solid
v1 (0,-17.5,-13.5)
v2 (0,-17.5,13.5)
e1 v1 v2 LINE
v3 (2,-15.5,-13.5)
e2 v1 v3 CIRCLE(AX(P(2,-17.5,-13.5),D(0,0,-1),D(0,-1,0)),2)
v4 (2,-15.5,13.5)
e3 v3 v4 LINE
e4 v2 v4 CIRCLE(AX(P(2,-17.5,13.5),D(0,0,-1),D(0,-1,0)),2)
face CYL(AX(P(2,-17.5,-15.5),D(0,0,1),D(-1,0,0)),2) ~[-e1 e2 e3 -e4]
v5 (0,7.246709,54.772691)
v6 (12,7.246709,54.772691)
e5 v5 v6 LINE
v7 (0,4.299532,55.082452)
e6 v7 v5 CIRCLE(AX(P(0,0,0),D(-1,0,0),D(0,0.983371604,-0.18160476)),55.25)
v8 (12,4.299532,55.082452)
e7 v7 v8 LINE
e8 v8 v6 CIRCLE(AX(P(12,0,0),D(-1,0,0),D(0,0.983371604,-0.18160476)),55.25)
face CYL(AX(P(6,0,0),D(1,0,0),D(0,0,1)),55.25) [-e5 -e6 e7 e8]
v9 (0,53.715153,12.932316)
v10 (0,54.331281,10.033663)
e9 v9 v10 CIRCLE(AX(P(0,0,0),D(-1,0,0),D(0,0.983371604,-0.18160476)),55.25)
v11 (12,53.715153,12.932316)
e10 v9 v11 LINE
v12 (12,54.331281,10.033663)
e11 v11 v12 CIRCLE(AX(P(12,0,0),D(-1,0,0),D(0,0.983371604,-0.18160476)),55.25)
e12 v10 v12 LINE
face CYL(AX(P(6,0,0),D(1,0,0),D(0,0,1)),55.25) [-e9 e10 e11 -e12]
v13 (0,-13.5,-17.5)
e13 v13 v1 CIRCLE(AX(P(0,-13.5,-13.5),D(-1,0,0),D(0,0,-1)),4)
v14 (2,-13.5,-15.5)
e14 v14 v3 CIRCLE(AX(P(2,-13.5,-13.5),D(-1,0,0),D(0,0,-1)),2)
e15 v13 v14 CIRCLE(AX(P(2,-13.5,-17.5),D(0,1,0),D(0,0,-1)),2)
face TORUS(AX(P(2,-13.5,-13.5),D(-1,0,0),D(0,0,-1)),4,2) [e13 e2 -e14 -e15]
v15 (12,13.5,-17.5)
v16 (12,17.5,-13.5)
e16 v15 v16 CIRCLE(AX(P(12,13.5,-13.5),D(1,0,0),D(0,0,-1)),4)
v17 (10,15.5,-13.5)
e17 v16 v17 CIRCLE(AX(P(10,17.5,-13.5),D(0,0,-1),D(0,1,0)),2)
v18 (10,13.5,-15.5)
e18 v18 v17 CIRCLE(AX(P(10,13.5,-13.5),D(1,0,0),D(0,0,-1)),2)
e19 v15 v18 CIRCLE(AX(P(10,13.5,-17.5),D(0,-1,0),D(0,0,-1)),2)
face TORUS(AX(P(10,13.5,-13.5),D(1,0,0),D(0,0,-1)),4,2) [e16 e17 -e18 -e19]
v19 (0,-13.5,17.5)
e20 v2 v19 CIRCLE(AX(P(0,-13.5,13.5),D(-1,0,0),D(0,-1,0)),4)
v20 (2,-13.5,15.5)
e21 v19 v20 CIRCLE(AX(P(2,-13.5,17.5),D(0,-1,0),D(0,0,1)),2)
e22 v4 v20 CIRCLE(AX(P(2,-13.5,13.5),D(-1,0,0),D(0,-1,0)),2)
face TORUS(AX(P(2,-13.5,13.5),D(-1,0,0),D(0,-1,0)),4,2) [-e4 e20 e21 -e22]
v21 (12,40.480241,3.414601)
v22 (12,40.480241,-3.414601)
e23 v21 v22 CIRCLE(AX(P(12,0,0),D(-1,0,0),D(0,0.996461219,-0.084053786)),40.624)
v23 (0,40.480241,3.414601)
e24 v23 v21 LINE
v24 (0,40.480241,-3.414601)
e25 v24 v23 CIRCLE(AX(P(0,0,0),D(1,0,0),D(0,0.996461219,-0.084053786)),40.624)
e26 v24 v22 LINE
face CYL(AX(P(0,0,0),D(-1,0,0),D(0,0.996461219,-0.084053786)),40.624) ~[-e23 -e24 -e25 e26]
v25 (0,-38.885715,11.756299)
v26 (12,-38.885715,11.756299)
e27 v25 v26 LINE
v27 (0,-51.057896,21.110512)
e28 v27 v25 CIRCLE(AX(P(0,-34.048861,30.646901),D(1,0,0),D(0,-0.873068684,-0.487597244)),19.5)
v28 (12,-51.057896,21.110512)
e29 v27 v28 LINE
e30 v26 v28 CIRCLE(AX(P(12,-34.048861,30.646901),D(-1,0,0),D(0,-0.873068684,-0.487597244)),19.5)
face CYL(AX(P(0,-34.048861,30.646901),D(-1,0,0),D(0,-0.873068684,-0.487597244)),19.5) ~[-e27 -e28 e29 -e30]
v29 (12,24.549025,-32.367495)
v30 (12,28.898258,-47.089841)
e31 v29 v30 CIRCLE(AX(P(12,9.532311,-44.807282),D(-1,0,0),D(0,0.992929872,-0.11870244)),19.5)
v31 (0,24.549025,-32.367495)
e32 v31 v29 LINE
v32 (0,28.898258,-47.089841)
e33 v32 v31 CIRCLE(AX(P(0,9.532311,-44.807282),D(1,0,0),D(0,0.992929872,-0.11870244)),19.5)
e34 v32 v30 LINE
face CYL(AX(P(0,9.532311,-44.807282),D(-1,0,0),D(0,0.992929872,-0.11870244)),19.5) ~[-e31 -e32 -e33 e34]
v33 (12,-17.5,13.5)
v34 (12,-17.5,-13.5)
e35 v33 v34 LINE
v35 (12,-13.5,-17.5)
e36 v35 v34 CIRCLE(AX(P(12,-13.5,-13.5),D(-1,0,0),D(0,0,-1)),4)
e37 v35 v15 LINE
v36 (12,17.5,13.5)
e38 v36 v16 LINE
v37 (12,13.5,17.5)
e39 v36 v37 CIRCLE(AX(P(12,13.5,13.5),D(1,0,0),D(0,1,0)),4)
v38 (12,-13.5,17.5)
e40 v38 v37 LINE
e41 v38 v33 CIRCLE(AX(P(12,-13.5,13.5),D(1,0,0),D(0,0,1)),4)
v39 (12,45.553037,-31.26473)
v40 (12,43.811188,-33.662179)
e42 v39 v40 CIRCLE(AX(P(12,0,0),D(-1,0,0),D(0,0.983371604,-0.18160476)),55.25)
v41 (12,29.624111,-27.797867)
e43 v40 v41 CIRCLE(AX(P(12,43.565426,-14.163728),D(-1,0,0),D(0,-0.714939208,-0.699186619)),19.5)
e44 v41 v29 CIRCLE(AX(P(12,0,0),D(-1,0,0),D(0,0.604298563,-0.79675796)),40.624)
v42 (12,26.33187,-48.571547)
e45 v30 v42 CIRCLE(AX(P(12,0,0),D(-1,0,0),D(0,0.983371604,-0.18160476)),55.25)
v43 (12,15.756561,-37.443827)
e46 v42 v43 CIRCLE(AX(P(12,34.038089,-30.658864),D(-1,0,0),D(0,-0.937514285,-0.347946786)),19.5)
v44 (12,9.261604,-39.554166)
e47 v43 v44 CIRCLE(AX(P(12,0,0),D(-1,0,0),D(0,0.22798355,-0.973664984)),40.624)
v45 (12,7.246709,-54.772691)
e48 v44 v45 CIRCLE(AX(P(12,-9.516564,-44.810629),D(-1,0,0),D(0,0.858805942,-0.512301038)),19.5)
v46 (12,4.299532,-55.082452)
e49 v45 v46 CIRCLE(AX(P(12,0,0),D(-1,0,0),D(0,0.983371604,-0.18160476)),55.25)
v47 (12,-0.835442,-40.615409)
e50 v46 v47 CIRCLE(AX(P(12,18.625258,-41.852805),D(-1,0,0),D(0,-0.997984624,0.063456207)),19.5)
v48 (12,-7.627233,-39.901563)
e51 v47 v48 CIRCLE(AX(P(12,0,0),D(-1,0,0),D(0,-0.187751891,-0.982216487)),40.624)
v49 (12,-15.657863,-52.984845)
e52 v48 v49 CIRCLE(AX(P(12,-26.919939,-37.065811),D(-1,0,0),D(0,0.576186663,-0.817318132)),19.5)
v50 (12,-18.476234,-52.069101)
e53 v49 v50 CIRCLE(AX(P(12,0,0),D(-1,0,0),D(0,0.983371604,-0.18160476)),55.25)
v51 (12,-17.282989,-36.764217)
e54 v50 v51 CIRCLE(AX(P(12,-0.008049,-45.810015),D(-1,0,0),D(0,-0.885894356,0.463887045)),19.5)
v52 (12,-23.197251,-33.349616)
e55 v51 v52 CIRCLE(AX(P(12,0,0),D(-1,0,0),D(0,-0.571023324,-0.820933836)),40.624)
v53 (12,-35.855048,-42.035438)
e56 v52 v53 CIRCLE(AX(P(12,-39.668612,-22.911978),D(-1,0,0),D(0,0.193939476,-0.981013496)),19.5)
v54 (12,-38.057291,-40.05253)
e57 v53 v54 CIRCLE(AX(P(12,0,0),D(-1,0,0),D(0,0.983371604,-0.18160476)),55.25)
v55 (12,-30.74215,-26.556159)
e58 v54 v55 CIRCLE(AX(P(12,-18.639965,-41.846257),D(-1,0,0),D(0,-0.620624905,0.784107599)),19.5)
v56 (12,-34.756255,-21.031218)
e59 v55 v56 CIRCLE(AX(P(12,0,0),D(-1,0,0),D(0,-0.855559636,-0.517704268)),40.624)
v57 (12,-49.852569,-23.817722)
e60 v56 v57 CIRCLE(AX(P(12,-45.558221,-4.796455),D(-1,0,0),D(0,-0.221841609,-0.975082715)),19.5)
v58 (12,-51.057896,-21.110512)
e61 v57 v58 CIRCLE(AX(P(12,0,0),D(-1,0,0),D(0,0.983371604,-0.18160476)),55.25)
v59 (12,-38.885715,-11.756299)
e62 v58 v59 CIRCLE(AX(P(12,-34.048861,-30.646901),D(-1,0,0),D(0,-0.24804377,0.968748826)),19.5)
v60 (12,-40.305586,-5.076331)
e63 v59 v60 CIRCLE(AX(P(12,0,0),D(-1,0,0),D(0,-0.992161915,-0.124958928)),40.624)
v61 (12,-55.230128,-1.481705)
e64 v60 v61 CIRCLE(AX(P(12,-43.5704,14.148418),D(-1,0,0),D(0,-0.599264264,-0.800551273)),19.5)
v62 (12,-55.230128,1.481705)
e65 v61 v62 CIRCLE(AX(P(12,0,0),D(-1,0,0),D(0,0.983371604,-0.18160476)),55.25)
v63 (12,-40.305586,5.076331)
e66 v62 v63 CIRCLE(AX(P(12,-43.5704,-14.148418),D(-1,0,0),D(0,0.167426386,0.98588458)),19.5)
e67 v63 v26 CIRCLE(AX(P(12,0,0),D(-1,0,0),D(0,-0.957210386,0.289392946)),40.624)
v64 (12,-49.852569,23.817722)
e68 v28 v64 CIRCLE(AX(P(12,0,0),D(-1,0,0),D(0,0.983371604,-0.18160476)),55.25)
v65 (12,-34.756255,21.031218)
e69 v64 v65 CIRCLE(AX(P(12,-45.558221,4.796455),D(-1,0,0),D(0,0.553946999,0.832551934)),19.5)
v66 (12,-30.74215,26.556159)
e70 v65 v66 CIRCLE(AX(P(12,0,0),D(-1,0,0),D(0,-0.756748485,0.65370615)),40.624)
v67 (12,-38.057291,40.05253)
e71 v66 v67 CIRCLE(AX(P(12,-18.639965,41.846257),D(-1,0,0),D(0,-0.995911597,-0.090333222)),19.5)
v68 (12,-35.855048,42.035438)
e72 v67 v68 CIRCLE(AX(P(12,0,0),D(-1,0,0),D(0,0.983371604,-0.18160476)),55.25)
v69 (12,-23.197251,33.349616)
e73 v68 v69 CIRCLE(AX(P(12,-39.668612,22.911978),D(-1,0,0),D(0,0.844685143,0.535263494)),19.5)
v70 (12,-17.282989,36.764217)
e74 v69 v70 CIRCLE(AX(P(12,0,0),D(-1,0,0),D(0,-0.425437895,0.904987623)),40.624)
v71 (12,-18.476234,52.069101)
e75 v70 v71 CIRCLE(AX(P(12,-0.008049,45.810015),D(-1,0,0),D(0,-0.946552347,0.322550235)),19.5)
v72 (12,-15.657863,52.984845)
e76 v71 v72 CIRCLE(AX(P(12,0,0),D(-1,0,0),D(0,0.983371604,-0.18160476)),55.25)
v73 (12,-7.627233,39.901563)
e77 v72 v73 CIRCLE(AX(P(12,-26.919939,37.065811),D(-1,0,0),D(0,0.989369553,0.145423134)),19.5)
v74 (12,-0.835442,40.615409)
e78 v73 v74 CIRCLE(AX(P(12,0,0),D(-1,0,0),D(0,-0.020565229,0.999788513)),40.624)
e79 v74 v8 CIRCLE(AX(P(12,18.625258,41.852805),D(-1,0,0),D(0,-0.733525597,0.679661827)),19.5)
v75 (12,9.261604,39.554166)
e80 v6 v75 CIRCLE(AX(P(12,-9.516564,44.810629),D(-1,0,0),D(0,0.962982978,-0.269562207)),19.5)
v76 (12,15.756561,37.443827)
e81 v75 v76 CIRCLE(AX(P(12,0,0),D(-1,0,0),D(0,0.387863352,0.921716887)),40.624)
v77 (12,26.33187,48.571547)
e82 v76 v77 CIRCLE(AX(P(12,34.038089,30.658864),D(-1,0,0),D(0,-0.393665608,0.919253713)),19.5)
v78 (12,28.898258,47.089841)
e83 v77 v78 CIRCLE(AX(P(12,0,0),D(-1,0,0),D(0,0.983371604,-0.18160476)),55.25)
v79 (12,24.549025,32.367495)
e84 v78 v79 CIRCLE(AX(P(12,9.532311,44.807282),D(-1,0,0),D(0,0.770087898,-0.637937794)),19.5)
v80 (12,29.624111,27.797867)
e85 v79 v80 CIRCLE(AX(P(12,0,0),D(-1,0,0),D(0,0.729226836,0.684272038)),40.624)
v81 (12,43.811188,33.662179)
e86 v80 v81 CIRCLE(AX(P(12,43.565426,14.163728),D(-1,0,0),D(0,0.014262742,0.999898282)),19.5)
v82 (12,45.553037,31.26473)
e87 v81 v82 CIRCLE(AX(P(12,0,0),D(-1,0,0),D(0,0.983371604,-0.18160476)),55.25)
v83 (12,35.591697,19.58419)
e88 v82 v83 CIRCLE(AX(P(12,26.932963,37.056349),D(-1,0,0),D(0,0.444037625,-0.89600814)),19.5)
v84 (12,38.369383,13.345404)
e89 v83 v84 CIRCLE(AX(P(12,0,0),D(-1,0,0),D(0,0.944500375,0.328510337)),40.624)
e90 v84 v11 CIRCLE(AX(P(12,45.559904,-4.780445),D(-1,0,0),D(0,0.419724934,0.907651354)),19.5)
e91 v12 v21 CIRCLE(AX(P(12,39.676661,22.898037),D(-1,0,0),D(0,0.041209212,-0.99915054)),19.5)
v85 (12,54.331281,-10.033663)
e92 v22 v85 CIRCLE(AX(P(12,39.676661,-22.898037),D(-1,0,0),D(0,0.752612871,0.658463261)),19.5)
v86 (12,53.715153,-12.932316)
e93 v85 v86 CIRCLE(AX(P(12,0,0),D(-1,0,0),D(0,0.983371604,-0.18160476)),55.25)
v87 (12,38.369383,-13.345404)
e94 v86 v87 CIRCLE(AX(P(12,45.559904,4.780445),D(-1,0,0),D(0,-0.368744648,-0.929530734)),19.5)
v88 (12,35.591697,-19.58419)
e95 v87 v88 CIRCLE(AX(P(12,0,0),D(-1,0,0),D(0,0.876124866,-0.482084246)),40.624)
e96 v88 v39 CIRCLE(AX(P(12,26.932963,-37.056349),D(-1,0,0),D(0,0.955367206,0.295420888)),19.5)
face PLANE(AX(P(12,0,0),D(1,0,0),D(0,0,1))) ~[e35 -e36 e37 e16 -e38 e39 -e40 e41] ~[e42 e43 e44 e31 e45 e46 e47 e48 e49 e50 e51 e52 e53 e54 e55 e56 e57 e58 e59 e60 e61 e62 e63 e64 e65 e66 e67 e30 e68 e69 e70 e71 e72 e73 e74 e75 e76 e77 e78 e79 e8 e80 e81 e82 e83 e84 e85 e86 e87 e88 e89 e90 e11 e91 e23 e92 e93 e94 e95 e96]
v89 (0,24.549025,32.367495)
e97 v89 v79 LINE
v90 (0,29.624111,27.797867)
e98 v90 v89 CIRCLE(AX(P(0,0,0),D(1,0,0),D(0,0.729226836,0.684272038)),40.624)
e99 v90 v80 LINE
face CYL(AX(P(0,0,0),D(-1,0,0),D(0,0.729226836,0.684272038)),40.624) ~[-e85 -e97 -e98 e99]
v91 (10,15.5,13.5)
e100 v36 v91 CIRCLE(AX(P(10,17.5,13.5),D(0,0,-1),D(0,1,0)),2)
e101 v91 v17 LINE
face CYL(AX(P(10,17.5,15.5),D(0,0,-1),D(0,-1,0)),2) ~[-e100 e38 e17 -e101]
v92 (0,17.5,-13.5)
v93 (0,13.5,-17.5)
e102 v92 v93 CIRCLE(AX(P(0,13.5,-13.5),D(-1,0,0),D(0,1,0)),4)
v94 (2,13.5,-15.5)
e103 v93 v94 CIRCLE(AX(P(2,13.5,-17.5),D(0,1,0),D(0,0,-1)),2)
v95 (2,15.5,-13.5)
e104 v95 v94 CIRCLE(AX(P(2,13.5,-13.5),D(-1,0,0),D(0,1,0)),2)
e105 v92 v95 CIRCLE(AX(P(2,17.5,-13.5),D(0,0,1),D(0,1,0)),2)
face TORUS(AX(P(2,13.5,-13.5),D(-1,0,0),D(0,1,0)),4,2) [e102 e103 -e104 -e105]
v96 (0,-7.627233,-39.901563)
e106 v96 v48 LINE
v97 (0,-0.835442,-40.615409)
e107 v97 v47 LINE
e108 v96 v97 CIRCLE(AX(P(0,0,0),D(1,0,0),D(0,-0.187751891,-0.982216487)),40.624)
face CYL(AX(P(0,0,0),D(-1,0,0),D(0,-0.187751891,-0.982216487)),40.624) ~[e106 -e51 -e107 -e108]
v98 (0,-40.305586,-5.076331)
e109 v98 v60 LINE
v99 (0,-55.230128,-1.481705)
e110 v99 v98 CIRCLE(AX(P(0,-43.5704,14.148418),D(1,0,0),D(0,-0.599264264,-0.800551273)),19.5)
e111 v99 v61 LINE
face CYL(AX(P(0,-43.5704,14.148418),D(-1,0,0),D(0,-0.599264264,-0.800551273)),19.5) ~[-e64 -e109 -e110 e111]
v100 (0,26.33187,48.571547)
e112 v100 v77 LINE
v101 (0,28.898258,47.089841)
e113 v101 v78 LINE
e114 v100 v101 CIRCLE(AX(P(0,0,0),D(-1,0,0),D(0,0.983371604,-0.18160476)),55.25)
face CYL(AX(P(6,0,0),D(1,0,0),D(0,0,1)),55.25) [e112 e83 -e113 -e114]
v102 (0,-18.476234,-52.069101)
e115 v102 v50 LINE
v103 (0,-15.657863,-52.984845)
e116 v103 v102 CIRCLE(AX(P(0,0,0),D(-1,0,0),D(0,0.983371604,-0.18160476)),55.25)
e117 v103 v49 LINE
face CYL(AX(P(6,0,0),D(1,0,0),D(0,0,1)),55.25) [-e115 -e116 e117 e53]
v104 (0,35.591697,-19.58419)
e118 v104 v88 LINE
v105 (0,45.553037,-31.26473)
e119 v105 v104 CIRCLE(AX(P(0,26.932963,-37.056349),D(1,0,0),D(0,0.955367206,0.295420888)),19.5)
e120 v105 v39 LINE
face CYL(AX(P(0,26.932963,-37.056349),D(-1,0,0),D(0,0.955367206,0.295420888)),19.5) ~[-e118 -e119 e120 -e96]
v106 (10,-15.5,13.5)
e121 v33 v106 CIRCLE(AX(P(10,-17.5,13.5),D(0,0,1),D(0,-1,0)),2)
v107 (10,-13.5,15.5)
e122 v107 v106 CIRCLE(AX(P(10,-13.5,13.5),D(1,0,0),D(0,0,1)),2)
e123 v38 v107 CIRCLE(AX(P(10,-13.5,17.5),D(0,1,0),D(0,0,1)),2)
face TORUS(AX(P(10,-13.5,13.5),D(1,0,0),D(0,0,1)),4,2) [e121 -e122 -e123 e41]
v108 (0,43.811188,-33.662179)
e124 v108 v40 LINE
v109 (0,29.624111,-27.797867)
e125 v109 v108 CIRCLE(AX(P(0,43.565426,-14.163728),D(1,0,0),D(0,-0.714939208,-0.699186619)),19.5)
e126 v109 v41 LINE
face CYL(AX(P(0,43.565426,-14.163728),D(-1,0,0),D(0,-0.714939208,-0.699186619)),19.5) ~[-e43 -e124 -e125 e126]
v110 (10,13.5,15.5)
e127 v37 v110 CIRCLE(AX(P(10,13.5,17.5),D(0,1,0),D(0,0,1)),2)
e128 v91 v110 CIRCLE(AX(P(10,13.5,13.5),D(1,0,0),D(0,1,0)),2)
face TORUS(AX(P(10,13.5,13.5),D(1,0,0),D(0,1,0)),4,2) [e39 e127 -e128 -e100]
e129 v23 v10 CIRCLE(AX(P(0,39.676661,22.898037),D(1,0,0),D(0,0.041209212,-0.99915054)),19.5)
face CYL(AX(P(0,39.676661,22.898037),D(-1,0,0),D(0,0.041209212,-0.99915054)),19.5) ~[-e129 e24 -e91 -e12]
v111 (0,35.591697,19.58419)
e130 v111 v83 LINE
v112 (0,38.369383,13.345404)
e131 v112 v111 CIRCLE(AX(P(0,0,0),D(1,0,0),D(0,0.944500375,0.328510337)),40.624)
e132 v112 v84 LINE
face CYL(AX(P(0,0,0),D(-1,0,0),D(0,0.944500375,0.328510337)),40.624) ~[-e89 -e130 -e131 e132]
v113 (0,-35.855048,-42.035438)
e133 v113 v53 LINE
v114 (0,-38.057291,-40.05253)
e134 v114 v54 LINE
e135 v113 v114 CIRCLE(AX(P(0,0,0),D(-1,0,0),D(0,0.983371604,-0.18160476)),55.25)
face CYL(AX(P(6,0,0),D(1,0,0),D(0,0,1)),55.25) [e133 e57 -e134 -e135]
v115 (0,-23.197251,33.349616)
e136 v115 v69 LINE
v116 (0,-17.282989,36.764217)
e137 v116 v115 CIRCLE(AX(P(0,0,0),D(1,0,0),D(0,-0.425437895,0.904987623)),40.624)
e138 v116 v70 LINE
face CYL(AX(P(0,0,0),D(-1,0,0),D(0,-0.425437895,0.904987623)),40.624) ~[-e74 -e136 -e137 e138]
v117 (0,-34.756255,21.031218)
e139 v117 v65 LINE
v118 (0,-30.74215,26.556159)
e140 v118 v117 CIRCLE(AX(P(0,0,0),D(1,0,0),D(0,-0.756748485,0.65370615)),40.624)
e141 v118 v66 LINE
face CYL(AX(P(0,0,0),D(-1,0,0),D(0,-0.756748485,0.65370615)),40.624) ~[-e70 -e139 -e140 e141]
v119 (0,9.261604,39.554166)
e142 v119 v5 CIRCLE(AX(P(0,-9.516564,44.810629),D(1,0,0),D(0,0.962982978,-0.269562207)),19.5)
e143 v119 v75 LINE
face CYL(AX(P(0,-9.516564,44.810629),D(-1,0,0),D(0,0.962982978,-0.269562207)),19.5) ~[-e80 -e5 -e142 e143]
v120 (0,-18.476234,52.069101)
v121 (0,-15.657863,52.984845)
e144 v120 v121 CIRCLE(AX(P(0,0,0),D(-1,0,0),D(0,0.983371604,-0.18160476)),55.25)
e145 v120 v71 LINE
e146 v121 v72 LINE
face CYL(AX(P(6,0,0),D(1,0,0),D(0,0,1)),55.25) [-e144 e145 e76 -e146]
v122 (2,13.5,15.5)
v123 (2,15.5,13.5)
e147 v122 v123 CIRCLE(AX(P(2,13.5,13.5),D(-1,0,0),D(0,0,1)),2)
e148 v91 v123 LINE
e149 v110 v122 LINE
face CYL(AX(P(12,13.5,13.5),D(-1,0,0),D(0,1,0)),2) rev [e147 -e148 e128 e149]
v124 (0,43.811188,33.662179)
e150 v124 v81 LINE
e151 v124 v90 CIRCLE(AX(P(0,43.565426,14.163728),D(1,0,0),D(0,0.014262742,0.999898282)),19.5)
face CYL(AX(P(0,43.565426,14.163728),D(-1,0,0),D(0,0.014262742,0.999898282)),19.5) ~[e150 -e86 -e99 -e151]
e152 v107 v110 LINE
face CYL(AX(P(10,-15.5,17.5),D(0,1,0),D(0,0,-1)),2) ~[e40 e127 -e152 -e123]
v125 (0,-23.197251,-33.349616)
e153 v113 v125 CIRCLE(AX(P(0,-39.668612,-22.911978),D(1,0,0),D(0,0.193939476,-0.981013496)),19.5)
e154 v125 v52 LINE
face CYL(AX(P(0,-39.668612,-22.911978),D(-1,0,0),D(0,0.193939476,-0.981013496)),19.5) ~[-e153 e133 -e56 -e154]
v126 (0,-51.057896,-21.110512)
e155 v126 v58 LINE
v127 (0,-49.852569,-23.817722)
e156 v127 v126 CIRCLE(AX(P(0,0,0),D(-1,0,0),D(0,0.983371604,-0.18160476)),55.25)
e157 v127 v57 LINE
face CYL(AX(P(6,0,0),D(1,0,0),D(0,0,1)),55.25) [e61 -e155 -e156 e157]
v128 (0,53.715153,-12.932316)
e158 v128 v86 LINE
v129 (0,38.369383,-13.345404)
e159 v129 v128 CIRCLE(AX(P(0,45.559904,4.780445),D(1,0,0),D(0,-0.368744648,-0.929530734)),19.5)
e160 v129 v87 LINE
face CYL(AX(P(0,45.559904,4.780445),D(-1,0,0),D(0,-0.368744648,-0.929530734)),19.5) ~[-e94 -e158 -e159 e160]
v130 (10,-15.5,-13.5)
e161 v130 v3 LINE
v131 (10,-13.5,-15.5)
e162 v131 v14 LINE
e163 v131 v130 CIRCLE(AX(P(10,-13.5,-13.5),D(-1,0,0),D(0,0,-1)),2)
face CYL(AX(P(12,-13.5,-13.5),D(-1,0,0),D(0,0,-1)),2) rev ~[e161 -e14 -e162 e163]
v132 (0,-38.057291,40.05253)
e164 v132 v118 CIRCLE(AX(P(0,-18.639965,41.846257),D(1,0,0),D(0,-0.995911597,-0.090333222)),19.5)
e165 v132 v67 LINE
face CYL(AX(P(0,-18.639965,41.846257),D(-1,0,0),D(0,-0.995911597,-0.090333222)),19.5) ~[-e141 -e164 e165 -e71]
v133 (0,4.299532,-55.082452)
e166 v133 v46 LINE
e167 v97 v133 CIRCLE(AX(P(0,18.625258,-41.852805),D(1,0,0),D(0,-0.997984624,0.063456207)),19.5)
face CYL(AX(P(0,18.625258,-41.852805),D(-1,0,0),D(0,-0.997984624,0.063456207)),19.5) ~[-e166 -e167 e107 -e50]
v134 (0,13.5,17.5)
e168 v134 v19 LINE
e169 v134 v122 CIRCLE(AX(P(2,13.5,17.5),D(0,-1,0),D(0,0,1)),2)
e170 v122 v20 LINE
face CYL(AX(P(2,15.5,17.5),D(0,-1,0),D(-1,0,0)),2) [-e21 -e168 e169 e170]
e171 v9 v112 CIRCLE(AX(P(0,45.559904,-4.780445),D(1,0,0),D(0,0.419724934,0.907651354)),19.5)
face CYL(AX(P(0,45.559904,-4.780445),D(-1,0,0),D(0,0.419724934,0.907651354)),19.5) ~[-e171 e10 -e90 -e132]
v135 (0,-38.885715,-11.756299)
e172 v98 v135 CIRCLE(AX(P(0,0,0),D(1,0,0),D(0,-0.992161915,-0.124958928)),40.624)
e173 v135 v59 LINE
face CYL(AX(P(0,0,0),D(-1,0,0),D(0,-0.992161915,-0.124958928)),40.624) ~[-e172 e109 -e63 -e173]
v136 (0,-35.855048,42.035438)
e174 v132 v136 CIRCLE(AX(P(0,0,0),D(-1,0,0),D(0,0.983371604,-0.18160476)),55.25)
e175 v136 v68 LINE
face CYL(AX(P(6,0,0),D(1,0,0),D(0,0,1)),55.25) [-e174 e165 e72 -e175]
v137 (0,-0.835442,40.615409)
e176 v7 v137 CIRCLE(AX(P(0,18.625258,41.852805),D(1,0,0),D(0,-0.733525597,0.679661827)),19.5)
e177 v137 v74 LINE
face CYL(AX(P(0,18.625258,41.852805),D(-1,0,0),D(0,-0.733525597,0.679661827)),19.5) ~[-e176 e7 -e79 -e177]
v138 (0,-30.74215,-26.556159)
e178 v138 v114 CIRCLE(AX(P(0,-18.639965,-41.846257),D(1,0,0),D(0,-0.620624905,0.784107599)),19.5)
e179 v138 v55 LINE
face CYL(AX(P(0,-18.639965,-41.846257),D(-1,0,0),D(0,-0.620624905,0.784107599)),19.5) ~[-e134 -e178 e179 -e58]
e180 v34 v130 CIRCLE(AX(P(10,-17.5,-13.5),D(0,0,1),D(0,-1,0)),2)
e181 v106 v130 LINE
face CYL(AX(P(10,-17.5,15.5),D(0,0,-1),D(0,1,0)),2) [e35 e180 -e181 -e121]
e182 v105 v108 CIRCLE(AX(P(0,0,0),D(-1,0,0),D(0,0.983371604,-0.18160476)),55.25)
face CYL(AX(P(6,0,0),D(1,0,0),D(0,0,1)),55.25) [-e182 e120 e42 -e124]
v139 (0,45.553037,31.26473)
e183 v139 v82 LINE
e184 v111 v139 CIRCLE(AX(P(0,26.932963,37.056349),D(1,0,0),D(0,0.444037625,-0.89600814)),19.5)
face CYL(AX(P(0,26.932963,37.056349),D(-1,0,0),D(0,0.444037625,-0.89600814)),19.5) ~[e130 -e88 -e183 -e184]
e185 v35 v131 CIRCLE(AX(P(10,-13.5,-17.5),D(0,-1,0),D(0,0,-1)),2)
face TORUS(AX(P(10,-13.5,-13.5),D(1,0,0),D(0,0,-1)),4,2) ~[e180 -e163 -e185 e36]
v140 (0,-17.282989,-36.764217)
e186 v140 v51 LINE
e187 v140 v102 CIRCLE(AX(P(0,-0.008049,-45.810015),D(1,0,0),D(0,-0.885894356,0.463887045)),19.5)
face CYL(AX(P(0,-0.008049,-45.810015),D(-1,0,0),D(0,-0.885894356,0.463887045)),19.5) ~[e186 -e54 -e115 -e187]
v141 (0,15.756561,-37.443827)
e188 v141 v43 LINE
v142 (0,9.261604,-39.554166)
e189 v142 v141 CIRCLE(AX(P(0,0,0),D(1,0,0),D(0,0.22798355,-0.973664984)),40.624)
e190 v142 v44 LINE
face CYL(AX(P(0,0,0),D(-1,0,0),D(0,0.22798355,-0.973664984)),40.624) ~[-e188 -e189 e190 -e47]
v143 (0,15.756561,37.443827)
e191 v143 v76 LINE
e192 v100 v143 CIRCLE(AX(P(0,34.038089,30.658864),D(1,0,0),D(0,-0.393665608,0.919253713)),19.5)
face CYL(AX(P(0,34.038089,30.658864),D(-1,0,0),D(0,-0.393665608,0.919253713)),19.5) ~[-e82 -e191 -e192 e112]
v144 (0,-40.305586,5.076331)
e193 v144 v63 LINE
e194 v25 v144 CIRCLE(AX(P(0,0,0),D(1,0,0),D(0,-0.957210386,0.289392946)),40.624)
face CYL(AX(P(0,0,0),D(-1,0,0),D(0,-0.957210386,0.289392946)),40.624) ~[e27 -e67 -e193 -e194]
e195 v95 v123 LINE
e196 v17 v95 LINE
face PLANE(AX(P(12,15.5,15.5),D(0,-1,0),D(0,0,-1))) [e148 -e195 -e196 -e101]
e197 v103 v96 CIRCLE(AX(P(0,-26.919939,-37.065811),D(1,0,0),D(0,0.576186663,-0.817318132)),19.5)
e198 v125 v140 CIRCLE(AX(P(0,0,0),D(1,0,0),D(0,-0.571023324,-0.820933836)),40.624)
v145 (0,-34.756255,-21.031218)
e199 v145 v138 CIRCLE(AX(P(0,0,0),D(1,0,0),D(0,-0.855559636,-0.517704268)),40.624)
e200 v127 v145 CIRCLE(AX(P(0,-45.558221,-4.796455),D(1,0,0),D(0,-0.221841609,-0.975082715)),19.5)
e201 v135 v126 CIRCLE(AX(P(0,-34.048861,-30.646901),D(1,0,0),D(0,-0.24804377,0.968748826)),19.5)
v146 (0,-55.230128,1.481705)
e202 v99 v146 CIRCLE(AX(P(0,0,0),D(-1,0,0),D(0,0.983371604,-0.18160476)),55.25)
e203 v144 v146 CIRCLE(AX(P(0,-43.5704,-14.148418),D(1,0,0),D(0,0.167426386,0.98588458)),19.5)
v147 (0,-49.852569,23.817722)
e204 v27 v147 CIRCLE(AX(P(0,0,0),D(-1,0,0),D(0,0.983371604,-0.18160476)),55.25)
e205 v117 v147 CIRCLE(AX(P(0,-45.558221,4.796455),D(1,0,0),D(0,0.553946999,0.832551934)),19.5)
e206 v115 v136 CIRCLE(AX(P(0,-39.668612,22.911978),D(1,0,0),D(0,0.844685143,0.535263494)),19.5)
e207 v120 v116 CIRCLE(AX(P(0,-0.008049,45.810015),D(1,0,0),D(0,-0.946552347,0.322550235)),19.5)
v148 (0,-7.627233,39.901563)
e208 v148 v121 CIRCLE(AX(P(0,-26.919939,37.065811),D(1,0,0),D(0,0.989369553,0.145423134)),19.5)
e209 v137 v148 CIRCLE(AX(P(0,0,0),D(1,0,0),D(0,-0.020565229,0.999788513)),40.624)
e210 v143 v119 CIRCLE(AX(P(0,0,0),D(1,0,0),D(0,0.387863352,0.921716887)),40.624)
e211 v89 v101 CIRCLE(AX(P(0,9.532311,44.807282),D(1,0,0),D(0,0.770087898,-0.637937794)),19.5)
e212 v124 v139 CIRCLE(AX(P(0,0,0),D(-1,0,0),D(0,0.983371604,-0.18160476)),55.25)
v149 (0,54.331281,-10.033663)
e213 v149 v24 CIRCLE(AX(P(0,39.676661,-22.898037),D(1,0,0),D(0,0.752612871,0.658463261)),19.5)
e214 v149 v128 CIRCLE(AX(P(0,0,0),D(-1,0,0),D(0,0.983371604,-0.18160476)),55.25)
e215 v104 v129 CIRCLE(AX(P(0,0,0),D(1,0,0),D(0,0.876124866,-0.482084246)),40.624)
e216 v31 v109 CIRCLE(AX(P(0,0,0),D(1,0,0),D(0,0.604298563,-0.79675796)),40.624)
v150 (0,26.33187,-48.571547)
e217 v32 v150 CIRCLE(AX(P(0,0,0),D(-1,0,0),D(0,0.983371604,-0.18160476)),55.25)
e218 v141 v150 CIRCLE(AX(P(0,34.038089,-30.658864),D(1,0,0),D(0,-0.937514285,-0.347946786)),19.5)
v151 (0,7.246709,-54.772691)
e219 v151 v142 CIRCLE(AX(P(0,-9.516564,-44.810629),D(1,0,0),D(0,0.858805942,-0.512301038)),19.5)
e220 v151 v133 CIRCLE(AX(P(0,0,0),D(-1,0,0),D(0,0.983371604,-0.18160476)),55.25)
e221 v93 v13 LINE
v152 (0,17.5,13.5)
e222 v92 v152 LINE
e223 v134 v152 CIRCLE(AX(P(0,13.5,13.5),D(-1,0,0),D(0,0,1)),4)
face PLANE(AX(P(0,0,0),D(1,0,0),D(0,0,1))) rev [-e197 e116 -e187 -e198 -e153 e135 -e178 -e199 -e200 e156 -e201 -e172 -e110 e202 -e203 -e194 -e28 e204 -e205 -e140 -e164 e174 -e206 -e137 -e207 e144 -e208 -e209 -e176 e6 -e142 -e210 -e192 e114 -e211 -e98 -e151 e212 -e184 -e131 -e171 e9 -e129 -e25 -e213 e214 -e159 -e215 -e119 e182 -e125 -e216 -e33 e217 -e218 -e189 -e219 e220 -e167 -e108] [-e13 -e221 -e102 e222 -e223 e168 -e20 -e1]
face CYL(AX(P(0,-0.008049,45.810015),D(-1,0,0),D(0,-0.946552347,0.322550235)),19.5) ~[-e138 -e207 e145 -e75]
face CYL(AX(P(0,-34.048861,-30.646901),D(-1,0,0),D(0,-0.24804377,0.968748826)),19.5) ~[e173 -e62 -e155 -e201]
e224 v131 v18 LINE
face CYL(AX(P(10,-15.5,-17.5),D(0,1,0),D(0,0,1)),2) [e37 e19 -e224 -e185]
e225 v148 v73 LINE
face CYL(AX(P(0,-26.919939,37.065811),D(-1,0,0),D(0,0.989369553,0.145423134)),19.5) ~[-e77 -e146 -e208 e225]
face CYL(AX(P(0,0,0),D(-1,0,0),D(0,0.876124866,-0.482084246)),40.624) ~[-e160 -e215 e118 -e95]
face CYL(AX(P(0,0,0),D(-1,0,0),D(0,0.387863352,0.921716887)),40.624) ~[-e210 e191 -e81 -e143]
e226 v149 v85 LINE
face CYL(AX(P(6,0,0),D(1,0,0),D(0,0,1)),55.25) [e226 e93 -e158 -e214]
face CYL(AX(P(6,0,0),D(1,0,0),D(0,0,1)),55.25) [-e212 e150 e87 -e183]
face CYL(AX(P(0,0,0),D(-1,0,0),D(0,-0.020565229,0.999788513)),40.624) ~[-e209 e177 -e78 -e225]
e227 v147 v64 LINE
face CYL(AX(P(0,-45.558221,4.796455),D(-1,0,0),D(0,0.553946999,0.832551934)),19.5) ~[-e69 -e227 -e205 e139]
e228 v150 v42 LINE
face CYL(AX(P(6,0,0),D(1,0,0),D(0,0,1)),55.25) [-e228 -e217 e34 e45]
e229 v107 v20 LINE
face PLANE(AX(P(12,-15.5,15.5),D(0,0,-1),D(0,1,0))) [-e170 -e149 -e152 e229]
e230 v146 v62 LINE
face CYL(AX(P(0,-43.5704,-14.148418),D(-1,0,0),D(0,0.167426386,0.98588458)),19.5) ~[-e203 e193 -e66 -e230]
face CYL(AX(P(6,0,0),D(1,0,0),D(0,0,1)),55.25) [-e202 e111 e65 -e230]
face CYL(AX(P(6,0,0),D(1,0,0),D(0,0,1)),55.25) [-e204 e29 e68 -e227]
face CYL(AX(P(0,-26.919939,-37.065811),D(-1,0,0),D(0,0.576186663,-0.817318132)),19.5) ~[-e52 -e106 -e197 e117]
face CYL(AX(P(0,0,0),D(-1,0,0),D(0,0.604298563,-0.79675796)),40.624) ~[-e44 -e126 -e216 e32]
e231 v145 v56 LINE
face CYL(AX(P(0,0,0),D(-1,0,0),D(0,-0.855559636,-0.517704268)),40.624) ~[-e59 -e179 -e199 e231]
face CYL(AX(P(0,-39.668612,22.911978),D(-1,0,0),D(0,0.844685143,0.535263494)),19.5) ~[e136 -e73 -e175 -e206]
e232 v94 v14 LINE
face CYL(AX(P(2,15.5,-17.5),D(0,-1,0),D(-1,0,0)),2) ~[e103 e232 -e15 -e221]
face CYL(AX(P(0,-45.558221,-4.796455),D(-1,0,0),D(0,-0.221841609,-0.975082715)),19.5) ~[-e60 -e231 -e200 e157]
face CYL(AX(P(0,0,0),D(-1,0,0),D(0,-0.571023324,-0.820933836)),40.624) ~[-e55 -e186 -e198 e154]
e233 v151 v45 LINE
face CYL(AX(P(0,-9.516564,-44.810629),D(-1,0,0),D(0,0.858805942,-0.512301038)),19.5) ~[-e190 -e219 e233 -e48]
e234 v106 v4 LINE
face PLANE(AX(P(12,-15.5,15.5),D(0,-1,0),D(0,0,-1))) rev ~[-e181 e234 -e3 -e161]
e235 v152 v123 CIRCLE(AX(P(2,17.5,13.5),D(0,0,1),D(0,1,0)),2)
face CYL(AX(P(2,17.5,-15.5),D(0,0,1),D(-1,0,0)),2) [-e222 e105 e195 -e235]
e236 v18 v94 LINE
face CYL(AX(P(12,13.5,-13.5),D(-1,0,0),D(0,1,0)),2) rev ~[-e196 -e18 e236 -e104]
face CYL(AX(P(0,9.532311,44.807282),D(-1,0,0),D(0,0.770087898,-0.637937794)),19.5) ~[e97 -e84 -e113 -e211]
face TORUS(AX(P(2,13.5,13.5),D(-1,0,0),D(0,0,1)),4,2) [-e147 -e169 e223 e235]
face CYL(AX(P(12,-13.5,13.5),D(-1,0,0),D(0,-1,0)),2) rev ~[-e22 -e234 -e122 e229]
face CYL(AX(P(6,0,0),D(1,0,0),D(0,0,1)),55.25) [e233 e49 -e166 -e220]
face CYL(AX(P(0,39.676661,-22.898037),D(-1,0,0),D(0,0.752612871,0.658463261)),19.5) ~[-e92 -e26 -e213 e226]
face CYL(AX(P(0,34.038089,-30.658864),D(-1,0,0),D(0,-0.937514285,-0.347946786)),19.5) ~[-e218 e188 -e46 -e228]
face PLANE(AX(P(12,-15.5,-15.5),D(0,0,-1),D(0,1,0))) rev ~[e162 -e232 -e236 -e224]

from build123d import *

# Parameters (mm, degrees)
BASPROSKE_W        = 12
BASPROSKE_H        = 55.25
TOOTHCUT_DEPTH     = 80.051407325
TEETHCUTS_COUNT    = 15
TEETHCUTS_ANGLE    = 336
BORSKE_R           = 10
BORE_DEPTH         = 50.0000508
SKETCH1_W          = 31
SKETCH1_H          = 31
CUT_EXTRUDE2_DEPTH = 79.934396957
FILLET1_R          = 2


with BuildPart() as part:
    # BasProSke → Base-Revolve (revolve)
    with BuildSketch(Plane(origin=(0, 0, 0), x_dir=(1, 0, 0), z_dir=(0, 1, 0)), mode=Mode.PRIVATE) as base_revolve_sk:
        with Locations((6, 27.625)):
            Rectangle(BASPROSKE_W, BASPROSKE_H)
    revolve(base_revolve_sk.sketch.rotate(Axis((-10, 0, 0), (1, 0, 0)), 180), axis=Axis((-10, 0, 0), (1, 0, 0)))

    # TooCutSke → ToothCut (cut, through all)
    with BuildSketch(Plane(origin=(0, 0, 0), x_dir=(0, 0, -1), z_dir=(1, 0, 0))):
        with BuildLine():
            ThreePointArc((3.414601006, 40.480240562), (0, 40.624), (-3.414601006, 40.480240562))
            ThreePointArc((-3.414601006, 40.480240562), (-5.310758866, 48.09911095), (-10.058002941, 54.352611915))
            ThreePointArc((-10.058002941, 54.352611915), (0, 55.2754), (10.058002941, 54.352611915))
            ThreePointArc((10.058002941, 54.352611915), (5.310758866, 48.09911095), (3.414601006, 40.480240562))
        make_face()
    toothcut = extrude(amount=TOOTHCUT_DEPTH, mode=Mode.SUBTRACT)

    # TeethCuts: ToothCut ×15 about axis
    teethcuts_axis = Axis((-10, 0, 0), (1, 0, 0))
    for i in range(1, TEETHCUTS_COUNT):
        add(toothcut.rotate(teethcuts_axis, i * TEETHCUTS_ANGLE / (TEETHCUTS_COUNT - 1)), mode=Mode.SUBTRACT)

    # BorSke → Bore (cut, symmetric)
    with BuildSketch(Plane(origin=(0, 0, 0), x_dir=(0, 0, -1), z_dir=(1, 0, 0))):
        with Locations(Location((0, 0, 0), (0, 0, 180))):
            Circle(BORSKE_R)
    extrude(amount=BORE_DEPTH, both=True, mode=Mode.SUBTRACT)

    # Sketch1 → Cut-Extrude2 (cut, through all)
    with BuildSketch(Plane(origin=(12, 0, 0), x_dir=(0, 0, -1), z_dir=(1, 0, 0))):
        Rectangle(SKETCH1_W, SKETCH1_H)
    extrude(amount=-CUT_EXTRUDE2_DEPTH, mode=Mode.SUBTRACT)

    # Fillet1
    fillet1_edges = [part.edges().sort_by_distance(p)[0] for p in [
        (0, 0, -15.5),
        (6, 15.5, -15.5),
        (0, -15.5, 0),
        (6, -15.5, -15.5),
        (0, 0, 15.5),
        (6, -15.5, 15.5),
        (0, 15.5, 0),
        (6, 15.5, 15.5),
        (12, 0, -15.5),
        (12, 15.5, 0),
        (12, 0, 15.5),
        (12, -15.5, 0),
    ]]
    fillet(fillet1_edges, radius=FILLET1_R)


solid = part.part
